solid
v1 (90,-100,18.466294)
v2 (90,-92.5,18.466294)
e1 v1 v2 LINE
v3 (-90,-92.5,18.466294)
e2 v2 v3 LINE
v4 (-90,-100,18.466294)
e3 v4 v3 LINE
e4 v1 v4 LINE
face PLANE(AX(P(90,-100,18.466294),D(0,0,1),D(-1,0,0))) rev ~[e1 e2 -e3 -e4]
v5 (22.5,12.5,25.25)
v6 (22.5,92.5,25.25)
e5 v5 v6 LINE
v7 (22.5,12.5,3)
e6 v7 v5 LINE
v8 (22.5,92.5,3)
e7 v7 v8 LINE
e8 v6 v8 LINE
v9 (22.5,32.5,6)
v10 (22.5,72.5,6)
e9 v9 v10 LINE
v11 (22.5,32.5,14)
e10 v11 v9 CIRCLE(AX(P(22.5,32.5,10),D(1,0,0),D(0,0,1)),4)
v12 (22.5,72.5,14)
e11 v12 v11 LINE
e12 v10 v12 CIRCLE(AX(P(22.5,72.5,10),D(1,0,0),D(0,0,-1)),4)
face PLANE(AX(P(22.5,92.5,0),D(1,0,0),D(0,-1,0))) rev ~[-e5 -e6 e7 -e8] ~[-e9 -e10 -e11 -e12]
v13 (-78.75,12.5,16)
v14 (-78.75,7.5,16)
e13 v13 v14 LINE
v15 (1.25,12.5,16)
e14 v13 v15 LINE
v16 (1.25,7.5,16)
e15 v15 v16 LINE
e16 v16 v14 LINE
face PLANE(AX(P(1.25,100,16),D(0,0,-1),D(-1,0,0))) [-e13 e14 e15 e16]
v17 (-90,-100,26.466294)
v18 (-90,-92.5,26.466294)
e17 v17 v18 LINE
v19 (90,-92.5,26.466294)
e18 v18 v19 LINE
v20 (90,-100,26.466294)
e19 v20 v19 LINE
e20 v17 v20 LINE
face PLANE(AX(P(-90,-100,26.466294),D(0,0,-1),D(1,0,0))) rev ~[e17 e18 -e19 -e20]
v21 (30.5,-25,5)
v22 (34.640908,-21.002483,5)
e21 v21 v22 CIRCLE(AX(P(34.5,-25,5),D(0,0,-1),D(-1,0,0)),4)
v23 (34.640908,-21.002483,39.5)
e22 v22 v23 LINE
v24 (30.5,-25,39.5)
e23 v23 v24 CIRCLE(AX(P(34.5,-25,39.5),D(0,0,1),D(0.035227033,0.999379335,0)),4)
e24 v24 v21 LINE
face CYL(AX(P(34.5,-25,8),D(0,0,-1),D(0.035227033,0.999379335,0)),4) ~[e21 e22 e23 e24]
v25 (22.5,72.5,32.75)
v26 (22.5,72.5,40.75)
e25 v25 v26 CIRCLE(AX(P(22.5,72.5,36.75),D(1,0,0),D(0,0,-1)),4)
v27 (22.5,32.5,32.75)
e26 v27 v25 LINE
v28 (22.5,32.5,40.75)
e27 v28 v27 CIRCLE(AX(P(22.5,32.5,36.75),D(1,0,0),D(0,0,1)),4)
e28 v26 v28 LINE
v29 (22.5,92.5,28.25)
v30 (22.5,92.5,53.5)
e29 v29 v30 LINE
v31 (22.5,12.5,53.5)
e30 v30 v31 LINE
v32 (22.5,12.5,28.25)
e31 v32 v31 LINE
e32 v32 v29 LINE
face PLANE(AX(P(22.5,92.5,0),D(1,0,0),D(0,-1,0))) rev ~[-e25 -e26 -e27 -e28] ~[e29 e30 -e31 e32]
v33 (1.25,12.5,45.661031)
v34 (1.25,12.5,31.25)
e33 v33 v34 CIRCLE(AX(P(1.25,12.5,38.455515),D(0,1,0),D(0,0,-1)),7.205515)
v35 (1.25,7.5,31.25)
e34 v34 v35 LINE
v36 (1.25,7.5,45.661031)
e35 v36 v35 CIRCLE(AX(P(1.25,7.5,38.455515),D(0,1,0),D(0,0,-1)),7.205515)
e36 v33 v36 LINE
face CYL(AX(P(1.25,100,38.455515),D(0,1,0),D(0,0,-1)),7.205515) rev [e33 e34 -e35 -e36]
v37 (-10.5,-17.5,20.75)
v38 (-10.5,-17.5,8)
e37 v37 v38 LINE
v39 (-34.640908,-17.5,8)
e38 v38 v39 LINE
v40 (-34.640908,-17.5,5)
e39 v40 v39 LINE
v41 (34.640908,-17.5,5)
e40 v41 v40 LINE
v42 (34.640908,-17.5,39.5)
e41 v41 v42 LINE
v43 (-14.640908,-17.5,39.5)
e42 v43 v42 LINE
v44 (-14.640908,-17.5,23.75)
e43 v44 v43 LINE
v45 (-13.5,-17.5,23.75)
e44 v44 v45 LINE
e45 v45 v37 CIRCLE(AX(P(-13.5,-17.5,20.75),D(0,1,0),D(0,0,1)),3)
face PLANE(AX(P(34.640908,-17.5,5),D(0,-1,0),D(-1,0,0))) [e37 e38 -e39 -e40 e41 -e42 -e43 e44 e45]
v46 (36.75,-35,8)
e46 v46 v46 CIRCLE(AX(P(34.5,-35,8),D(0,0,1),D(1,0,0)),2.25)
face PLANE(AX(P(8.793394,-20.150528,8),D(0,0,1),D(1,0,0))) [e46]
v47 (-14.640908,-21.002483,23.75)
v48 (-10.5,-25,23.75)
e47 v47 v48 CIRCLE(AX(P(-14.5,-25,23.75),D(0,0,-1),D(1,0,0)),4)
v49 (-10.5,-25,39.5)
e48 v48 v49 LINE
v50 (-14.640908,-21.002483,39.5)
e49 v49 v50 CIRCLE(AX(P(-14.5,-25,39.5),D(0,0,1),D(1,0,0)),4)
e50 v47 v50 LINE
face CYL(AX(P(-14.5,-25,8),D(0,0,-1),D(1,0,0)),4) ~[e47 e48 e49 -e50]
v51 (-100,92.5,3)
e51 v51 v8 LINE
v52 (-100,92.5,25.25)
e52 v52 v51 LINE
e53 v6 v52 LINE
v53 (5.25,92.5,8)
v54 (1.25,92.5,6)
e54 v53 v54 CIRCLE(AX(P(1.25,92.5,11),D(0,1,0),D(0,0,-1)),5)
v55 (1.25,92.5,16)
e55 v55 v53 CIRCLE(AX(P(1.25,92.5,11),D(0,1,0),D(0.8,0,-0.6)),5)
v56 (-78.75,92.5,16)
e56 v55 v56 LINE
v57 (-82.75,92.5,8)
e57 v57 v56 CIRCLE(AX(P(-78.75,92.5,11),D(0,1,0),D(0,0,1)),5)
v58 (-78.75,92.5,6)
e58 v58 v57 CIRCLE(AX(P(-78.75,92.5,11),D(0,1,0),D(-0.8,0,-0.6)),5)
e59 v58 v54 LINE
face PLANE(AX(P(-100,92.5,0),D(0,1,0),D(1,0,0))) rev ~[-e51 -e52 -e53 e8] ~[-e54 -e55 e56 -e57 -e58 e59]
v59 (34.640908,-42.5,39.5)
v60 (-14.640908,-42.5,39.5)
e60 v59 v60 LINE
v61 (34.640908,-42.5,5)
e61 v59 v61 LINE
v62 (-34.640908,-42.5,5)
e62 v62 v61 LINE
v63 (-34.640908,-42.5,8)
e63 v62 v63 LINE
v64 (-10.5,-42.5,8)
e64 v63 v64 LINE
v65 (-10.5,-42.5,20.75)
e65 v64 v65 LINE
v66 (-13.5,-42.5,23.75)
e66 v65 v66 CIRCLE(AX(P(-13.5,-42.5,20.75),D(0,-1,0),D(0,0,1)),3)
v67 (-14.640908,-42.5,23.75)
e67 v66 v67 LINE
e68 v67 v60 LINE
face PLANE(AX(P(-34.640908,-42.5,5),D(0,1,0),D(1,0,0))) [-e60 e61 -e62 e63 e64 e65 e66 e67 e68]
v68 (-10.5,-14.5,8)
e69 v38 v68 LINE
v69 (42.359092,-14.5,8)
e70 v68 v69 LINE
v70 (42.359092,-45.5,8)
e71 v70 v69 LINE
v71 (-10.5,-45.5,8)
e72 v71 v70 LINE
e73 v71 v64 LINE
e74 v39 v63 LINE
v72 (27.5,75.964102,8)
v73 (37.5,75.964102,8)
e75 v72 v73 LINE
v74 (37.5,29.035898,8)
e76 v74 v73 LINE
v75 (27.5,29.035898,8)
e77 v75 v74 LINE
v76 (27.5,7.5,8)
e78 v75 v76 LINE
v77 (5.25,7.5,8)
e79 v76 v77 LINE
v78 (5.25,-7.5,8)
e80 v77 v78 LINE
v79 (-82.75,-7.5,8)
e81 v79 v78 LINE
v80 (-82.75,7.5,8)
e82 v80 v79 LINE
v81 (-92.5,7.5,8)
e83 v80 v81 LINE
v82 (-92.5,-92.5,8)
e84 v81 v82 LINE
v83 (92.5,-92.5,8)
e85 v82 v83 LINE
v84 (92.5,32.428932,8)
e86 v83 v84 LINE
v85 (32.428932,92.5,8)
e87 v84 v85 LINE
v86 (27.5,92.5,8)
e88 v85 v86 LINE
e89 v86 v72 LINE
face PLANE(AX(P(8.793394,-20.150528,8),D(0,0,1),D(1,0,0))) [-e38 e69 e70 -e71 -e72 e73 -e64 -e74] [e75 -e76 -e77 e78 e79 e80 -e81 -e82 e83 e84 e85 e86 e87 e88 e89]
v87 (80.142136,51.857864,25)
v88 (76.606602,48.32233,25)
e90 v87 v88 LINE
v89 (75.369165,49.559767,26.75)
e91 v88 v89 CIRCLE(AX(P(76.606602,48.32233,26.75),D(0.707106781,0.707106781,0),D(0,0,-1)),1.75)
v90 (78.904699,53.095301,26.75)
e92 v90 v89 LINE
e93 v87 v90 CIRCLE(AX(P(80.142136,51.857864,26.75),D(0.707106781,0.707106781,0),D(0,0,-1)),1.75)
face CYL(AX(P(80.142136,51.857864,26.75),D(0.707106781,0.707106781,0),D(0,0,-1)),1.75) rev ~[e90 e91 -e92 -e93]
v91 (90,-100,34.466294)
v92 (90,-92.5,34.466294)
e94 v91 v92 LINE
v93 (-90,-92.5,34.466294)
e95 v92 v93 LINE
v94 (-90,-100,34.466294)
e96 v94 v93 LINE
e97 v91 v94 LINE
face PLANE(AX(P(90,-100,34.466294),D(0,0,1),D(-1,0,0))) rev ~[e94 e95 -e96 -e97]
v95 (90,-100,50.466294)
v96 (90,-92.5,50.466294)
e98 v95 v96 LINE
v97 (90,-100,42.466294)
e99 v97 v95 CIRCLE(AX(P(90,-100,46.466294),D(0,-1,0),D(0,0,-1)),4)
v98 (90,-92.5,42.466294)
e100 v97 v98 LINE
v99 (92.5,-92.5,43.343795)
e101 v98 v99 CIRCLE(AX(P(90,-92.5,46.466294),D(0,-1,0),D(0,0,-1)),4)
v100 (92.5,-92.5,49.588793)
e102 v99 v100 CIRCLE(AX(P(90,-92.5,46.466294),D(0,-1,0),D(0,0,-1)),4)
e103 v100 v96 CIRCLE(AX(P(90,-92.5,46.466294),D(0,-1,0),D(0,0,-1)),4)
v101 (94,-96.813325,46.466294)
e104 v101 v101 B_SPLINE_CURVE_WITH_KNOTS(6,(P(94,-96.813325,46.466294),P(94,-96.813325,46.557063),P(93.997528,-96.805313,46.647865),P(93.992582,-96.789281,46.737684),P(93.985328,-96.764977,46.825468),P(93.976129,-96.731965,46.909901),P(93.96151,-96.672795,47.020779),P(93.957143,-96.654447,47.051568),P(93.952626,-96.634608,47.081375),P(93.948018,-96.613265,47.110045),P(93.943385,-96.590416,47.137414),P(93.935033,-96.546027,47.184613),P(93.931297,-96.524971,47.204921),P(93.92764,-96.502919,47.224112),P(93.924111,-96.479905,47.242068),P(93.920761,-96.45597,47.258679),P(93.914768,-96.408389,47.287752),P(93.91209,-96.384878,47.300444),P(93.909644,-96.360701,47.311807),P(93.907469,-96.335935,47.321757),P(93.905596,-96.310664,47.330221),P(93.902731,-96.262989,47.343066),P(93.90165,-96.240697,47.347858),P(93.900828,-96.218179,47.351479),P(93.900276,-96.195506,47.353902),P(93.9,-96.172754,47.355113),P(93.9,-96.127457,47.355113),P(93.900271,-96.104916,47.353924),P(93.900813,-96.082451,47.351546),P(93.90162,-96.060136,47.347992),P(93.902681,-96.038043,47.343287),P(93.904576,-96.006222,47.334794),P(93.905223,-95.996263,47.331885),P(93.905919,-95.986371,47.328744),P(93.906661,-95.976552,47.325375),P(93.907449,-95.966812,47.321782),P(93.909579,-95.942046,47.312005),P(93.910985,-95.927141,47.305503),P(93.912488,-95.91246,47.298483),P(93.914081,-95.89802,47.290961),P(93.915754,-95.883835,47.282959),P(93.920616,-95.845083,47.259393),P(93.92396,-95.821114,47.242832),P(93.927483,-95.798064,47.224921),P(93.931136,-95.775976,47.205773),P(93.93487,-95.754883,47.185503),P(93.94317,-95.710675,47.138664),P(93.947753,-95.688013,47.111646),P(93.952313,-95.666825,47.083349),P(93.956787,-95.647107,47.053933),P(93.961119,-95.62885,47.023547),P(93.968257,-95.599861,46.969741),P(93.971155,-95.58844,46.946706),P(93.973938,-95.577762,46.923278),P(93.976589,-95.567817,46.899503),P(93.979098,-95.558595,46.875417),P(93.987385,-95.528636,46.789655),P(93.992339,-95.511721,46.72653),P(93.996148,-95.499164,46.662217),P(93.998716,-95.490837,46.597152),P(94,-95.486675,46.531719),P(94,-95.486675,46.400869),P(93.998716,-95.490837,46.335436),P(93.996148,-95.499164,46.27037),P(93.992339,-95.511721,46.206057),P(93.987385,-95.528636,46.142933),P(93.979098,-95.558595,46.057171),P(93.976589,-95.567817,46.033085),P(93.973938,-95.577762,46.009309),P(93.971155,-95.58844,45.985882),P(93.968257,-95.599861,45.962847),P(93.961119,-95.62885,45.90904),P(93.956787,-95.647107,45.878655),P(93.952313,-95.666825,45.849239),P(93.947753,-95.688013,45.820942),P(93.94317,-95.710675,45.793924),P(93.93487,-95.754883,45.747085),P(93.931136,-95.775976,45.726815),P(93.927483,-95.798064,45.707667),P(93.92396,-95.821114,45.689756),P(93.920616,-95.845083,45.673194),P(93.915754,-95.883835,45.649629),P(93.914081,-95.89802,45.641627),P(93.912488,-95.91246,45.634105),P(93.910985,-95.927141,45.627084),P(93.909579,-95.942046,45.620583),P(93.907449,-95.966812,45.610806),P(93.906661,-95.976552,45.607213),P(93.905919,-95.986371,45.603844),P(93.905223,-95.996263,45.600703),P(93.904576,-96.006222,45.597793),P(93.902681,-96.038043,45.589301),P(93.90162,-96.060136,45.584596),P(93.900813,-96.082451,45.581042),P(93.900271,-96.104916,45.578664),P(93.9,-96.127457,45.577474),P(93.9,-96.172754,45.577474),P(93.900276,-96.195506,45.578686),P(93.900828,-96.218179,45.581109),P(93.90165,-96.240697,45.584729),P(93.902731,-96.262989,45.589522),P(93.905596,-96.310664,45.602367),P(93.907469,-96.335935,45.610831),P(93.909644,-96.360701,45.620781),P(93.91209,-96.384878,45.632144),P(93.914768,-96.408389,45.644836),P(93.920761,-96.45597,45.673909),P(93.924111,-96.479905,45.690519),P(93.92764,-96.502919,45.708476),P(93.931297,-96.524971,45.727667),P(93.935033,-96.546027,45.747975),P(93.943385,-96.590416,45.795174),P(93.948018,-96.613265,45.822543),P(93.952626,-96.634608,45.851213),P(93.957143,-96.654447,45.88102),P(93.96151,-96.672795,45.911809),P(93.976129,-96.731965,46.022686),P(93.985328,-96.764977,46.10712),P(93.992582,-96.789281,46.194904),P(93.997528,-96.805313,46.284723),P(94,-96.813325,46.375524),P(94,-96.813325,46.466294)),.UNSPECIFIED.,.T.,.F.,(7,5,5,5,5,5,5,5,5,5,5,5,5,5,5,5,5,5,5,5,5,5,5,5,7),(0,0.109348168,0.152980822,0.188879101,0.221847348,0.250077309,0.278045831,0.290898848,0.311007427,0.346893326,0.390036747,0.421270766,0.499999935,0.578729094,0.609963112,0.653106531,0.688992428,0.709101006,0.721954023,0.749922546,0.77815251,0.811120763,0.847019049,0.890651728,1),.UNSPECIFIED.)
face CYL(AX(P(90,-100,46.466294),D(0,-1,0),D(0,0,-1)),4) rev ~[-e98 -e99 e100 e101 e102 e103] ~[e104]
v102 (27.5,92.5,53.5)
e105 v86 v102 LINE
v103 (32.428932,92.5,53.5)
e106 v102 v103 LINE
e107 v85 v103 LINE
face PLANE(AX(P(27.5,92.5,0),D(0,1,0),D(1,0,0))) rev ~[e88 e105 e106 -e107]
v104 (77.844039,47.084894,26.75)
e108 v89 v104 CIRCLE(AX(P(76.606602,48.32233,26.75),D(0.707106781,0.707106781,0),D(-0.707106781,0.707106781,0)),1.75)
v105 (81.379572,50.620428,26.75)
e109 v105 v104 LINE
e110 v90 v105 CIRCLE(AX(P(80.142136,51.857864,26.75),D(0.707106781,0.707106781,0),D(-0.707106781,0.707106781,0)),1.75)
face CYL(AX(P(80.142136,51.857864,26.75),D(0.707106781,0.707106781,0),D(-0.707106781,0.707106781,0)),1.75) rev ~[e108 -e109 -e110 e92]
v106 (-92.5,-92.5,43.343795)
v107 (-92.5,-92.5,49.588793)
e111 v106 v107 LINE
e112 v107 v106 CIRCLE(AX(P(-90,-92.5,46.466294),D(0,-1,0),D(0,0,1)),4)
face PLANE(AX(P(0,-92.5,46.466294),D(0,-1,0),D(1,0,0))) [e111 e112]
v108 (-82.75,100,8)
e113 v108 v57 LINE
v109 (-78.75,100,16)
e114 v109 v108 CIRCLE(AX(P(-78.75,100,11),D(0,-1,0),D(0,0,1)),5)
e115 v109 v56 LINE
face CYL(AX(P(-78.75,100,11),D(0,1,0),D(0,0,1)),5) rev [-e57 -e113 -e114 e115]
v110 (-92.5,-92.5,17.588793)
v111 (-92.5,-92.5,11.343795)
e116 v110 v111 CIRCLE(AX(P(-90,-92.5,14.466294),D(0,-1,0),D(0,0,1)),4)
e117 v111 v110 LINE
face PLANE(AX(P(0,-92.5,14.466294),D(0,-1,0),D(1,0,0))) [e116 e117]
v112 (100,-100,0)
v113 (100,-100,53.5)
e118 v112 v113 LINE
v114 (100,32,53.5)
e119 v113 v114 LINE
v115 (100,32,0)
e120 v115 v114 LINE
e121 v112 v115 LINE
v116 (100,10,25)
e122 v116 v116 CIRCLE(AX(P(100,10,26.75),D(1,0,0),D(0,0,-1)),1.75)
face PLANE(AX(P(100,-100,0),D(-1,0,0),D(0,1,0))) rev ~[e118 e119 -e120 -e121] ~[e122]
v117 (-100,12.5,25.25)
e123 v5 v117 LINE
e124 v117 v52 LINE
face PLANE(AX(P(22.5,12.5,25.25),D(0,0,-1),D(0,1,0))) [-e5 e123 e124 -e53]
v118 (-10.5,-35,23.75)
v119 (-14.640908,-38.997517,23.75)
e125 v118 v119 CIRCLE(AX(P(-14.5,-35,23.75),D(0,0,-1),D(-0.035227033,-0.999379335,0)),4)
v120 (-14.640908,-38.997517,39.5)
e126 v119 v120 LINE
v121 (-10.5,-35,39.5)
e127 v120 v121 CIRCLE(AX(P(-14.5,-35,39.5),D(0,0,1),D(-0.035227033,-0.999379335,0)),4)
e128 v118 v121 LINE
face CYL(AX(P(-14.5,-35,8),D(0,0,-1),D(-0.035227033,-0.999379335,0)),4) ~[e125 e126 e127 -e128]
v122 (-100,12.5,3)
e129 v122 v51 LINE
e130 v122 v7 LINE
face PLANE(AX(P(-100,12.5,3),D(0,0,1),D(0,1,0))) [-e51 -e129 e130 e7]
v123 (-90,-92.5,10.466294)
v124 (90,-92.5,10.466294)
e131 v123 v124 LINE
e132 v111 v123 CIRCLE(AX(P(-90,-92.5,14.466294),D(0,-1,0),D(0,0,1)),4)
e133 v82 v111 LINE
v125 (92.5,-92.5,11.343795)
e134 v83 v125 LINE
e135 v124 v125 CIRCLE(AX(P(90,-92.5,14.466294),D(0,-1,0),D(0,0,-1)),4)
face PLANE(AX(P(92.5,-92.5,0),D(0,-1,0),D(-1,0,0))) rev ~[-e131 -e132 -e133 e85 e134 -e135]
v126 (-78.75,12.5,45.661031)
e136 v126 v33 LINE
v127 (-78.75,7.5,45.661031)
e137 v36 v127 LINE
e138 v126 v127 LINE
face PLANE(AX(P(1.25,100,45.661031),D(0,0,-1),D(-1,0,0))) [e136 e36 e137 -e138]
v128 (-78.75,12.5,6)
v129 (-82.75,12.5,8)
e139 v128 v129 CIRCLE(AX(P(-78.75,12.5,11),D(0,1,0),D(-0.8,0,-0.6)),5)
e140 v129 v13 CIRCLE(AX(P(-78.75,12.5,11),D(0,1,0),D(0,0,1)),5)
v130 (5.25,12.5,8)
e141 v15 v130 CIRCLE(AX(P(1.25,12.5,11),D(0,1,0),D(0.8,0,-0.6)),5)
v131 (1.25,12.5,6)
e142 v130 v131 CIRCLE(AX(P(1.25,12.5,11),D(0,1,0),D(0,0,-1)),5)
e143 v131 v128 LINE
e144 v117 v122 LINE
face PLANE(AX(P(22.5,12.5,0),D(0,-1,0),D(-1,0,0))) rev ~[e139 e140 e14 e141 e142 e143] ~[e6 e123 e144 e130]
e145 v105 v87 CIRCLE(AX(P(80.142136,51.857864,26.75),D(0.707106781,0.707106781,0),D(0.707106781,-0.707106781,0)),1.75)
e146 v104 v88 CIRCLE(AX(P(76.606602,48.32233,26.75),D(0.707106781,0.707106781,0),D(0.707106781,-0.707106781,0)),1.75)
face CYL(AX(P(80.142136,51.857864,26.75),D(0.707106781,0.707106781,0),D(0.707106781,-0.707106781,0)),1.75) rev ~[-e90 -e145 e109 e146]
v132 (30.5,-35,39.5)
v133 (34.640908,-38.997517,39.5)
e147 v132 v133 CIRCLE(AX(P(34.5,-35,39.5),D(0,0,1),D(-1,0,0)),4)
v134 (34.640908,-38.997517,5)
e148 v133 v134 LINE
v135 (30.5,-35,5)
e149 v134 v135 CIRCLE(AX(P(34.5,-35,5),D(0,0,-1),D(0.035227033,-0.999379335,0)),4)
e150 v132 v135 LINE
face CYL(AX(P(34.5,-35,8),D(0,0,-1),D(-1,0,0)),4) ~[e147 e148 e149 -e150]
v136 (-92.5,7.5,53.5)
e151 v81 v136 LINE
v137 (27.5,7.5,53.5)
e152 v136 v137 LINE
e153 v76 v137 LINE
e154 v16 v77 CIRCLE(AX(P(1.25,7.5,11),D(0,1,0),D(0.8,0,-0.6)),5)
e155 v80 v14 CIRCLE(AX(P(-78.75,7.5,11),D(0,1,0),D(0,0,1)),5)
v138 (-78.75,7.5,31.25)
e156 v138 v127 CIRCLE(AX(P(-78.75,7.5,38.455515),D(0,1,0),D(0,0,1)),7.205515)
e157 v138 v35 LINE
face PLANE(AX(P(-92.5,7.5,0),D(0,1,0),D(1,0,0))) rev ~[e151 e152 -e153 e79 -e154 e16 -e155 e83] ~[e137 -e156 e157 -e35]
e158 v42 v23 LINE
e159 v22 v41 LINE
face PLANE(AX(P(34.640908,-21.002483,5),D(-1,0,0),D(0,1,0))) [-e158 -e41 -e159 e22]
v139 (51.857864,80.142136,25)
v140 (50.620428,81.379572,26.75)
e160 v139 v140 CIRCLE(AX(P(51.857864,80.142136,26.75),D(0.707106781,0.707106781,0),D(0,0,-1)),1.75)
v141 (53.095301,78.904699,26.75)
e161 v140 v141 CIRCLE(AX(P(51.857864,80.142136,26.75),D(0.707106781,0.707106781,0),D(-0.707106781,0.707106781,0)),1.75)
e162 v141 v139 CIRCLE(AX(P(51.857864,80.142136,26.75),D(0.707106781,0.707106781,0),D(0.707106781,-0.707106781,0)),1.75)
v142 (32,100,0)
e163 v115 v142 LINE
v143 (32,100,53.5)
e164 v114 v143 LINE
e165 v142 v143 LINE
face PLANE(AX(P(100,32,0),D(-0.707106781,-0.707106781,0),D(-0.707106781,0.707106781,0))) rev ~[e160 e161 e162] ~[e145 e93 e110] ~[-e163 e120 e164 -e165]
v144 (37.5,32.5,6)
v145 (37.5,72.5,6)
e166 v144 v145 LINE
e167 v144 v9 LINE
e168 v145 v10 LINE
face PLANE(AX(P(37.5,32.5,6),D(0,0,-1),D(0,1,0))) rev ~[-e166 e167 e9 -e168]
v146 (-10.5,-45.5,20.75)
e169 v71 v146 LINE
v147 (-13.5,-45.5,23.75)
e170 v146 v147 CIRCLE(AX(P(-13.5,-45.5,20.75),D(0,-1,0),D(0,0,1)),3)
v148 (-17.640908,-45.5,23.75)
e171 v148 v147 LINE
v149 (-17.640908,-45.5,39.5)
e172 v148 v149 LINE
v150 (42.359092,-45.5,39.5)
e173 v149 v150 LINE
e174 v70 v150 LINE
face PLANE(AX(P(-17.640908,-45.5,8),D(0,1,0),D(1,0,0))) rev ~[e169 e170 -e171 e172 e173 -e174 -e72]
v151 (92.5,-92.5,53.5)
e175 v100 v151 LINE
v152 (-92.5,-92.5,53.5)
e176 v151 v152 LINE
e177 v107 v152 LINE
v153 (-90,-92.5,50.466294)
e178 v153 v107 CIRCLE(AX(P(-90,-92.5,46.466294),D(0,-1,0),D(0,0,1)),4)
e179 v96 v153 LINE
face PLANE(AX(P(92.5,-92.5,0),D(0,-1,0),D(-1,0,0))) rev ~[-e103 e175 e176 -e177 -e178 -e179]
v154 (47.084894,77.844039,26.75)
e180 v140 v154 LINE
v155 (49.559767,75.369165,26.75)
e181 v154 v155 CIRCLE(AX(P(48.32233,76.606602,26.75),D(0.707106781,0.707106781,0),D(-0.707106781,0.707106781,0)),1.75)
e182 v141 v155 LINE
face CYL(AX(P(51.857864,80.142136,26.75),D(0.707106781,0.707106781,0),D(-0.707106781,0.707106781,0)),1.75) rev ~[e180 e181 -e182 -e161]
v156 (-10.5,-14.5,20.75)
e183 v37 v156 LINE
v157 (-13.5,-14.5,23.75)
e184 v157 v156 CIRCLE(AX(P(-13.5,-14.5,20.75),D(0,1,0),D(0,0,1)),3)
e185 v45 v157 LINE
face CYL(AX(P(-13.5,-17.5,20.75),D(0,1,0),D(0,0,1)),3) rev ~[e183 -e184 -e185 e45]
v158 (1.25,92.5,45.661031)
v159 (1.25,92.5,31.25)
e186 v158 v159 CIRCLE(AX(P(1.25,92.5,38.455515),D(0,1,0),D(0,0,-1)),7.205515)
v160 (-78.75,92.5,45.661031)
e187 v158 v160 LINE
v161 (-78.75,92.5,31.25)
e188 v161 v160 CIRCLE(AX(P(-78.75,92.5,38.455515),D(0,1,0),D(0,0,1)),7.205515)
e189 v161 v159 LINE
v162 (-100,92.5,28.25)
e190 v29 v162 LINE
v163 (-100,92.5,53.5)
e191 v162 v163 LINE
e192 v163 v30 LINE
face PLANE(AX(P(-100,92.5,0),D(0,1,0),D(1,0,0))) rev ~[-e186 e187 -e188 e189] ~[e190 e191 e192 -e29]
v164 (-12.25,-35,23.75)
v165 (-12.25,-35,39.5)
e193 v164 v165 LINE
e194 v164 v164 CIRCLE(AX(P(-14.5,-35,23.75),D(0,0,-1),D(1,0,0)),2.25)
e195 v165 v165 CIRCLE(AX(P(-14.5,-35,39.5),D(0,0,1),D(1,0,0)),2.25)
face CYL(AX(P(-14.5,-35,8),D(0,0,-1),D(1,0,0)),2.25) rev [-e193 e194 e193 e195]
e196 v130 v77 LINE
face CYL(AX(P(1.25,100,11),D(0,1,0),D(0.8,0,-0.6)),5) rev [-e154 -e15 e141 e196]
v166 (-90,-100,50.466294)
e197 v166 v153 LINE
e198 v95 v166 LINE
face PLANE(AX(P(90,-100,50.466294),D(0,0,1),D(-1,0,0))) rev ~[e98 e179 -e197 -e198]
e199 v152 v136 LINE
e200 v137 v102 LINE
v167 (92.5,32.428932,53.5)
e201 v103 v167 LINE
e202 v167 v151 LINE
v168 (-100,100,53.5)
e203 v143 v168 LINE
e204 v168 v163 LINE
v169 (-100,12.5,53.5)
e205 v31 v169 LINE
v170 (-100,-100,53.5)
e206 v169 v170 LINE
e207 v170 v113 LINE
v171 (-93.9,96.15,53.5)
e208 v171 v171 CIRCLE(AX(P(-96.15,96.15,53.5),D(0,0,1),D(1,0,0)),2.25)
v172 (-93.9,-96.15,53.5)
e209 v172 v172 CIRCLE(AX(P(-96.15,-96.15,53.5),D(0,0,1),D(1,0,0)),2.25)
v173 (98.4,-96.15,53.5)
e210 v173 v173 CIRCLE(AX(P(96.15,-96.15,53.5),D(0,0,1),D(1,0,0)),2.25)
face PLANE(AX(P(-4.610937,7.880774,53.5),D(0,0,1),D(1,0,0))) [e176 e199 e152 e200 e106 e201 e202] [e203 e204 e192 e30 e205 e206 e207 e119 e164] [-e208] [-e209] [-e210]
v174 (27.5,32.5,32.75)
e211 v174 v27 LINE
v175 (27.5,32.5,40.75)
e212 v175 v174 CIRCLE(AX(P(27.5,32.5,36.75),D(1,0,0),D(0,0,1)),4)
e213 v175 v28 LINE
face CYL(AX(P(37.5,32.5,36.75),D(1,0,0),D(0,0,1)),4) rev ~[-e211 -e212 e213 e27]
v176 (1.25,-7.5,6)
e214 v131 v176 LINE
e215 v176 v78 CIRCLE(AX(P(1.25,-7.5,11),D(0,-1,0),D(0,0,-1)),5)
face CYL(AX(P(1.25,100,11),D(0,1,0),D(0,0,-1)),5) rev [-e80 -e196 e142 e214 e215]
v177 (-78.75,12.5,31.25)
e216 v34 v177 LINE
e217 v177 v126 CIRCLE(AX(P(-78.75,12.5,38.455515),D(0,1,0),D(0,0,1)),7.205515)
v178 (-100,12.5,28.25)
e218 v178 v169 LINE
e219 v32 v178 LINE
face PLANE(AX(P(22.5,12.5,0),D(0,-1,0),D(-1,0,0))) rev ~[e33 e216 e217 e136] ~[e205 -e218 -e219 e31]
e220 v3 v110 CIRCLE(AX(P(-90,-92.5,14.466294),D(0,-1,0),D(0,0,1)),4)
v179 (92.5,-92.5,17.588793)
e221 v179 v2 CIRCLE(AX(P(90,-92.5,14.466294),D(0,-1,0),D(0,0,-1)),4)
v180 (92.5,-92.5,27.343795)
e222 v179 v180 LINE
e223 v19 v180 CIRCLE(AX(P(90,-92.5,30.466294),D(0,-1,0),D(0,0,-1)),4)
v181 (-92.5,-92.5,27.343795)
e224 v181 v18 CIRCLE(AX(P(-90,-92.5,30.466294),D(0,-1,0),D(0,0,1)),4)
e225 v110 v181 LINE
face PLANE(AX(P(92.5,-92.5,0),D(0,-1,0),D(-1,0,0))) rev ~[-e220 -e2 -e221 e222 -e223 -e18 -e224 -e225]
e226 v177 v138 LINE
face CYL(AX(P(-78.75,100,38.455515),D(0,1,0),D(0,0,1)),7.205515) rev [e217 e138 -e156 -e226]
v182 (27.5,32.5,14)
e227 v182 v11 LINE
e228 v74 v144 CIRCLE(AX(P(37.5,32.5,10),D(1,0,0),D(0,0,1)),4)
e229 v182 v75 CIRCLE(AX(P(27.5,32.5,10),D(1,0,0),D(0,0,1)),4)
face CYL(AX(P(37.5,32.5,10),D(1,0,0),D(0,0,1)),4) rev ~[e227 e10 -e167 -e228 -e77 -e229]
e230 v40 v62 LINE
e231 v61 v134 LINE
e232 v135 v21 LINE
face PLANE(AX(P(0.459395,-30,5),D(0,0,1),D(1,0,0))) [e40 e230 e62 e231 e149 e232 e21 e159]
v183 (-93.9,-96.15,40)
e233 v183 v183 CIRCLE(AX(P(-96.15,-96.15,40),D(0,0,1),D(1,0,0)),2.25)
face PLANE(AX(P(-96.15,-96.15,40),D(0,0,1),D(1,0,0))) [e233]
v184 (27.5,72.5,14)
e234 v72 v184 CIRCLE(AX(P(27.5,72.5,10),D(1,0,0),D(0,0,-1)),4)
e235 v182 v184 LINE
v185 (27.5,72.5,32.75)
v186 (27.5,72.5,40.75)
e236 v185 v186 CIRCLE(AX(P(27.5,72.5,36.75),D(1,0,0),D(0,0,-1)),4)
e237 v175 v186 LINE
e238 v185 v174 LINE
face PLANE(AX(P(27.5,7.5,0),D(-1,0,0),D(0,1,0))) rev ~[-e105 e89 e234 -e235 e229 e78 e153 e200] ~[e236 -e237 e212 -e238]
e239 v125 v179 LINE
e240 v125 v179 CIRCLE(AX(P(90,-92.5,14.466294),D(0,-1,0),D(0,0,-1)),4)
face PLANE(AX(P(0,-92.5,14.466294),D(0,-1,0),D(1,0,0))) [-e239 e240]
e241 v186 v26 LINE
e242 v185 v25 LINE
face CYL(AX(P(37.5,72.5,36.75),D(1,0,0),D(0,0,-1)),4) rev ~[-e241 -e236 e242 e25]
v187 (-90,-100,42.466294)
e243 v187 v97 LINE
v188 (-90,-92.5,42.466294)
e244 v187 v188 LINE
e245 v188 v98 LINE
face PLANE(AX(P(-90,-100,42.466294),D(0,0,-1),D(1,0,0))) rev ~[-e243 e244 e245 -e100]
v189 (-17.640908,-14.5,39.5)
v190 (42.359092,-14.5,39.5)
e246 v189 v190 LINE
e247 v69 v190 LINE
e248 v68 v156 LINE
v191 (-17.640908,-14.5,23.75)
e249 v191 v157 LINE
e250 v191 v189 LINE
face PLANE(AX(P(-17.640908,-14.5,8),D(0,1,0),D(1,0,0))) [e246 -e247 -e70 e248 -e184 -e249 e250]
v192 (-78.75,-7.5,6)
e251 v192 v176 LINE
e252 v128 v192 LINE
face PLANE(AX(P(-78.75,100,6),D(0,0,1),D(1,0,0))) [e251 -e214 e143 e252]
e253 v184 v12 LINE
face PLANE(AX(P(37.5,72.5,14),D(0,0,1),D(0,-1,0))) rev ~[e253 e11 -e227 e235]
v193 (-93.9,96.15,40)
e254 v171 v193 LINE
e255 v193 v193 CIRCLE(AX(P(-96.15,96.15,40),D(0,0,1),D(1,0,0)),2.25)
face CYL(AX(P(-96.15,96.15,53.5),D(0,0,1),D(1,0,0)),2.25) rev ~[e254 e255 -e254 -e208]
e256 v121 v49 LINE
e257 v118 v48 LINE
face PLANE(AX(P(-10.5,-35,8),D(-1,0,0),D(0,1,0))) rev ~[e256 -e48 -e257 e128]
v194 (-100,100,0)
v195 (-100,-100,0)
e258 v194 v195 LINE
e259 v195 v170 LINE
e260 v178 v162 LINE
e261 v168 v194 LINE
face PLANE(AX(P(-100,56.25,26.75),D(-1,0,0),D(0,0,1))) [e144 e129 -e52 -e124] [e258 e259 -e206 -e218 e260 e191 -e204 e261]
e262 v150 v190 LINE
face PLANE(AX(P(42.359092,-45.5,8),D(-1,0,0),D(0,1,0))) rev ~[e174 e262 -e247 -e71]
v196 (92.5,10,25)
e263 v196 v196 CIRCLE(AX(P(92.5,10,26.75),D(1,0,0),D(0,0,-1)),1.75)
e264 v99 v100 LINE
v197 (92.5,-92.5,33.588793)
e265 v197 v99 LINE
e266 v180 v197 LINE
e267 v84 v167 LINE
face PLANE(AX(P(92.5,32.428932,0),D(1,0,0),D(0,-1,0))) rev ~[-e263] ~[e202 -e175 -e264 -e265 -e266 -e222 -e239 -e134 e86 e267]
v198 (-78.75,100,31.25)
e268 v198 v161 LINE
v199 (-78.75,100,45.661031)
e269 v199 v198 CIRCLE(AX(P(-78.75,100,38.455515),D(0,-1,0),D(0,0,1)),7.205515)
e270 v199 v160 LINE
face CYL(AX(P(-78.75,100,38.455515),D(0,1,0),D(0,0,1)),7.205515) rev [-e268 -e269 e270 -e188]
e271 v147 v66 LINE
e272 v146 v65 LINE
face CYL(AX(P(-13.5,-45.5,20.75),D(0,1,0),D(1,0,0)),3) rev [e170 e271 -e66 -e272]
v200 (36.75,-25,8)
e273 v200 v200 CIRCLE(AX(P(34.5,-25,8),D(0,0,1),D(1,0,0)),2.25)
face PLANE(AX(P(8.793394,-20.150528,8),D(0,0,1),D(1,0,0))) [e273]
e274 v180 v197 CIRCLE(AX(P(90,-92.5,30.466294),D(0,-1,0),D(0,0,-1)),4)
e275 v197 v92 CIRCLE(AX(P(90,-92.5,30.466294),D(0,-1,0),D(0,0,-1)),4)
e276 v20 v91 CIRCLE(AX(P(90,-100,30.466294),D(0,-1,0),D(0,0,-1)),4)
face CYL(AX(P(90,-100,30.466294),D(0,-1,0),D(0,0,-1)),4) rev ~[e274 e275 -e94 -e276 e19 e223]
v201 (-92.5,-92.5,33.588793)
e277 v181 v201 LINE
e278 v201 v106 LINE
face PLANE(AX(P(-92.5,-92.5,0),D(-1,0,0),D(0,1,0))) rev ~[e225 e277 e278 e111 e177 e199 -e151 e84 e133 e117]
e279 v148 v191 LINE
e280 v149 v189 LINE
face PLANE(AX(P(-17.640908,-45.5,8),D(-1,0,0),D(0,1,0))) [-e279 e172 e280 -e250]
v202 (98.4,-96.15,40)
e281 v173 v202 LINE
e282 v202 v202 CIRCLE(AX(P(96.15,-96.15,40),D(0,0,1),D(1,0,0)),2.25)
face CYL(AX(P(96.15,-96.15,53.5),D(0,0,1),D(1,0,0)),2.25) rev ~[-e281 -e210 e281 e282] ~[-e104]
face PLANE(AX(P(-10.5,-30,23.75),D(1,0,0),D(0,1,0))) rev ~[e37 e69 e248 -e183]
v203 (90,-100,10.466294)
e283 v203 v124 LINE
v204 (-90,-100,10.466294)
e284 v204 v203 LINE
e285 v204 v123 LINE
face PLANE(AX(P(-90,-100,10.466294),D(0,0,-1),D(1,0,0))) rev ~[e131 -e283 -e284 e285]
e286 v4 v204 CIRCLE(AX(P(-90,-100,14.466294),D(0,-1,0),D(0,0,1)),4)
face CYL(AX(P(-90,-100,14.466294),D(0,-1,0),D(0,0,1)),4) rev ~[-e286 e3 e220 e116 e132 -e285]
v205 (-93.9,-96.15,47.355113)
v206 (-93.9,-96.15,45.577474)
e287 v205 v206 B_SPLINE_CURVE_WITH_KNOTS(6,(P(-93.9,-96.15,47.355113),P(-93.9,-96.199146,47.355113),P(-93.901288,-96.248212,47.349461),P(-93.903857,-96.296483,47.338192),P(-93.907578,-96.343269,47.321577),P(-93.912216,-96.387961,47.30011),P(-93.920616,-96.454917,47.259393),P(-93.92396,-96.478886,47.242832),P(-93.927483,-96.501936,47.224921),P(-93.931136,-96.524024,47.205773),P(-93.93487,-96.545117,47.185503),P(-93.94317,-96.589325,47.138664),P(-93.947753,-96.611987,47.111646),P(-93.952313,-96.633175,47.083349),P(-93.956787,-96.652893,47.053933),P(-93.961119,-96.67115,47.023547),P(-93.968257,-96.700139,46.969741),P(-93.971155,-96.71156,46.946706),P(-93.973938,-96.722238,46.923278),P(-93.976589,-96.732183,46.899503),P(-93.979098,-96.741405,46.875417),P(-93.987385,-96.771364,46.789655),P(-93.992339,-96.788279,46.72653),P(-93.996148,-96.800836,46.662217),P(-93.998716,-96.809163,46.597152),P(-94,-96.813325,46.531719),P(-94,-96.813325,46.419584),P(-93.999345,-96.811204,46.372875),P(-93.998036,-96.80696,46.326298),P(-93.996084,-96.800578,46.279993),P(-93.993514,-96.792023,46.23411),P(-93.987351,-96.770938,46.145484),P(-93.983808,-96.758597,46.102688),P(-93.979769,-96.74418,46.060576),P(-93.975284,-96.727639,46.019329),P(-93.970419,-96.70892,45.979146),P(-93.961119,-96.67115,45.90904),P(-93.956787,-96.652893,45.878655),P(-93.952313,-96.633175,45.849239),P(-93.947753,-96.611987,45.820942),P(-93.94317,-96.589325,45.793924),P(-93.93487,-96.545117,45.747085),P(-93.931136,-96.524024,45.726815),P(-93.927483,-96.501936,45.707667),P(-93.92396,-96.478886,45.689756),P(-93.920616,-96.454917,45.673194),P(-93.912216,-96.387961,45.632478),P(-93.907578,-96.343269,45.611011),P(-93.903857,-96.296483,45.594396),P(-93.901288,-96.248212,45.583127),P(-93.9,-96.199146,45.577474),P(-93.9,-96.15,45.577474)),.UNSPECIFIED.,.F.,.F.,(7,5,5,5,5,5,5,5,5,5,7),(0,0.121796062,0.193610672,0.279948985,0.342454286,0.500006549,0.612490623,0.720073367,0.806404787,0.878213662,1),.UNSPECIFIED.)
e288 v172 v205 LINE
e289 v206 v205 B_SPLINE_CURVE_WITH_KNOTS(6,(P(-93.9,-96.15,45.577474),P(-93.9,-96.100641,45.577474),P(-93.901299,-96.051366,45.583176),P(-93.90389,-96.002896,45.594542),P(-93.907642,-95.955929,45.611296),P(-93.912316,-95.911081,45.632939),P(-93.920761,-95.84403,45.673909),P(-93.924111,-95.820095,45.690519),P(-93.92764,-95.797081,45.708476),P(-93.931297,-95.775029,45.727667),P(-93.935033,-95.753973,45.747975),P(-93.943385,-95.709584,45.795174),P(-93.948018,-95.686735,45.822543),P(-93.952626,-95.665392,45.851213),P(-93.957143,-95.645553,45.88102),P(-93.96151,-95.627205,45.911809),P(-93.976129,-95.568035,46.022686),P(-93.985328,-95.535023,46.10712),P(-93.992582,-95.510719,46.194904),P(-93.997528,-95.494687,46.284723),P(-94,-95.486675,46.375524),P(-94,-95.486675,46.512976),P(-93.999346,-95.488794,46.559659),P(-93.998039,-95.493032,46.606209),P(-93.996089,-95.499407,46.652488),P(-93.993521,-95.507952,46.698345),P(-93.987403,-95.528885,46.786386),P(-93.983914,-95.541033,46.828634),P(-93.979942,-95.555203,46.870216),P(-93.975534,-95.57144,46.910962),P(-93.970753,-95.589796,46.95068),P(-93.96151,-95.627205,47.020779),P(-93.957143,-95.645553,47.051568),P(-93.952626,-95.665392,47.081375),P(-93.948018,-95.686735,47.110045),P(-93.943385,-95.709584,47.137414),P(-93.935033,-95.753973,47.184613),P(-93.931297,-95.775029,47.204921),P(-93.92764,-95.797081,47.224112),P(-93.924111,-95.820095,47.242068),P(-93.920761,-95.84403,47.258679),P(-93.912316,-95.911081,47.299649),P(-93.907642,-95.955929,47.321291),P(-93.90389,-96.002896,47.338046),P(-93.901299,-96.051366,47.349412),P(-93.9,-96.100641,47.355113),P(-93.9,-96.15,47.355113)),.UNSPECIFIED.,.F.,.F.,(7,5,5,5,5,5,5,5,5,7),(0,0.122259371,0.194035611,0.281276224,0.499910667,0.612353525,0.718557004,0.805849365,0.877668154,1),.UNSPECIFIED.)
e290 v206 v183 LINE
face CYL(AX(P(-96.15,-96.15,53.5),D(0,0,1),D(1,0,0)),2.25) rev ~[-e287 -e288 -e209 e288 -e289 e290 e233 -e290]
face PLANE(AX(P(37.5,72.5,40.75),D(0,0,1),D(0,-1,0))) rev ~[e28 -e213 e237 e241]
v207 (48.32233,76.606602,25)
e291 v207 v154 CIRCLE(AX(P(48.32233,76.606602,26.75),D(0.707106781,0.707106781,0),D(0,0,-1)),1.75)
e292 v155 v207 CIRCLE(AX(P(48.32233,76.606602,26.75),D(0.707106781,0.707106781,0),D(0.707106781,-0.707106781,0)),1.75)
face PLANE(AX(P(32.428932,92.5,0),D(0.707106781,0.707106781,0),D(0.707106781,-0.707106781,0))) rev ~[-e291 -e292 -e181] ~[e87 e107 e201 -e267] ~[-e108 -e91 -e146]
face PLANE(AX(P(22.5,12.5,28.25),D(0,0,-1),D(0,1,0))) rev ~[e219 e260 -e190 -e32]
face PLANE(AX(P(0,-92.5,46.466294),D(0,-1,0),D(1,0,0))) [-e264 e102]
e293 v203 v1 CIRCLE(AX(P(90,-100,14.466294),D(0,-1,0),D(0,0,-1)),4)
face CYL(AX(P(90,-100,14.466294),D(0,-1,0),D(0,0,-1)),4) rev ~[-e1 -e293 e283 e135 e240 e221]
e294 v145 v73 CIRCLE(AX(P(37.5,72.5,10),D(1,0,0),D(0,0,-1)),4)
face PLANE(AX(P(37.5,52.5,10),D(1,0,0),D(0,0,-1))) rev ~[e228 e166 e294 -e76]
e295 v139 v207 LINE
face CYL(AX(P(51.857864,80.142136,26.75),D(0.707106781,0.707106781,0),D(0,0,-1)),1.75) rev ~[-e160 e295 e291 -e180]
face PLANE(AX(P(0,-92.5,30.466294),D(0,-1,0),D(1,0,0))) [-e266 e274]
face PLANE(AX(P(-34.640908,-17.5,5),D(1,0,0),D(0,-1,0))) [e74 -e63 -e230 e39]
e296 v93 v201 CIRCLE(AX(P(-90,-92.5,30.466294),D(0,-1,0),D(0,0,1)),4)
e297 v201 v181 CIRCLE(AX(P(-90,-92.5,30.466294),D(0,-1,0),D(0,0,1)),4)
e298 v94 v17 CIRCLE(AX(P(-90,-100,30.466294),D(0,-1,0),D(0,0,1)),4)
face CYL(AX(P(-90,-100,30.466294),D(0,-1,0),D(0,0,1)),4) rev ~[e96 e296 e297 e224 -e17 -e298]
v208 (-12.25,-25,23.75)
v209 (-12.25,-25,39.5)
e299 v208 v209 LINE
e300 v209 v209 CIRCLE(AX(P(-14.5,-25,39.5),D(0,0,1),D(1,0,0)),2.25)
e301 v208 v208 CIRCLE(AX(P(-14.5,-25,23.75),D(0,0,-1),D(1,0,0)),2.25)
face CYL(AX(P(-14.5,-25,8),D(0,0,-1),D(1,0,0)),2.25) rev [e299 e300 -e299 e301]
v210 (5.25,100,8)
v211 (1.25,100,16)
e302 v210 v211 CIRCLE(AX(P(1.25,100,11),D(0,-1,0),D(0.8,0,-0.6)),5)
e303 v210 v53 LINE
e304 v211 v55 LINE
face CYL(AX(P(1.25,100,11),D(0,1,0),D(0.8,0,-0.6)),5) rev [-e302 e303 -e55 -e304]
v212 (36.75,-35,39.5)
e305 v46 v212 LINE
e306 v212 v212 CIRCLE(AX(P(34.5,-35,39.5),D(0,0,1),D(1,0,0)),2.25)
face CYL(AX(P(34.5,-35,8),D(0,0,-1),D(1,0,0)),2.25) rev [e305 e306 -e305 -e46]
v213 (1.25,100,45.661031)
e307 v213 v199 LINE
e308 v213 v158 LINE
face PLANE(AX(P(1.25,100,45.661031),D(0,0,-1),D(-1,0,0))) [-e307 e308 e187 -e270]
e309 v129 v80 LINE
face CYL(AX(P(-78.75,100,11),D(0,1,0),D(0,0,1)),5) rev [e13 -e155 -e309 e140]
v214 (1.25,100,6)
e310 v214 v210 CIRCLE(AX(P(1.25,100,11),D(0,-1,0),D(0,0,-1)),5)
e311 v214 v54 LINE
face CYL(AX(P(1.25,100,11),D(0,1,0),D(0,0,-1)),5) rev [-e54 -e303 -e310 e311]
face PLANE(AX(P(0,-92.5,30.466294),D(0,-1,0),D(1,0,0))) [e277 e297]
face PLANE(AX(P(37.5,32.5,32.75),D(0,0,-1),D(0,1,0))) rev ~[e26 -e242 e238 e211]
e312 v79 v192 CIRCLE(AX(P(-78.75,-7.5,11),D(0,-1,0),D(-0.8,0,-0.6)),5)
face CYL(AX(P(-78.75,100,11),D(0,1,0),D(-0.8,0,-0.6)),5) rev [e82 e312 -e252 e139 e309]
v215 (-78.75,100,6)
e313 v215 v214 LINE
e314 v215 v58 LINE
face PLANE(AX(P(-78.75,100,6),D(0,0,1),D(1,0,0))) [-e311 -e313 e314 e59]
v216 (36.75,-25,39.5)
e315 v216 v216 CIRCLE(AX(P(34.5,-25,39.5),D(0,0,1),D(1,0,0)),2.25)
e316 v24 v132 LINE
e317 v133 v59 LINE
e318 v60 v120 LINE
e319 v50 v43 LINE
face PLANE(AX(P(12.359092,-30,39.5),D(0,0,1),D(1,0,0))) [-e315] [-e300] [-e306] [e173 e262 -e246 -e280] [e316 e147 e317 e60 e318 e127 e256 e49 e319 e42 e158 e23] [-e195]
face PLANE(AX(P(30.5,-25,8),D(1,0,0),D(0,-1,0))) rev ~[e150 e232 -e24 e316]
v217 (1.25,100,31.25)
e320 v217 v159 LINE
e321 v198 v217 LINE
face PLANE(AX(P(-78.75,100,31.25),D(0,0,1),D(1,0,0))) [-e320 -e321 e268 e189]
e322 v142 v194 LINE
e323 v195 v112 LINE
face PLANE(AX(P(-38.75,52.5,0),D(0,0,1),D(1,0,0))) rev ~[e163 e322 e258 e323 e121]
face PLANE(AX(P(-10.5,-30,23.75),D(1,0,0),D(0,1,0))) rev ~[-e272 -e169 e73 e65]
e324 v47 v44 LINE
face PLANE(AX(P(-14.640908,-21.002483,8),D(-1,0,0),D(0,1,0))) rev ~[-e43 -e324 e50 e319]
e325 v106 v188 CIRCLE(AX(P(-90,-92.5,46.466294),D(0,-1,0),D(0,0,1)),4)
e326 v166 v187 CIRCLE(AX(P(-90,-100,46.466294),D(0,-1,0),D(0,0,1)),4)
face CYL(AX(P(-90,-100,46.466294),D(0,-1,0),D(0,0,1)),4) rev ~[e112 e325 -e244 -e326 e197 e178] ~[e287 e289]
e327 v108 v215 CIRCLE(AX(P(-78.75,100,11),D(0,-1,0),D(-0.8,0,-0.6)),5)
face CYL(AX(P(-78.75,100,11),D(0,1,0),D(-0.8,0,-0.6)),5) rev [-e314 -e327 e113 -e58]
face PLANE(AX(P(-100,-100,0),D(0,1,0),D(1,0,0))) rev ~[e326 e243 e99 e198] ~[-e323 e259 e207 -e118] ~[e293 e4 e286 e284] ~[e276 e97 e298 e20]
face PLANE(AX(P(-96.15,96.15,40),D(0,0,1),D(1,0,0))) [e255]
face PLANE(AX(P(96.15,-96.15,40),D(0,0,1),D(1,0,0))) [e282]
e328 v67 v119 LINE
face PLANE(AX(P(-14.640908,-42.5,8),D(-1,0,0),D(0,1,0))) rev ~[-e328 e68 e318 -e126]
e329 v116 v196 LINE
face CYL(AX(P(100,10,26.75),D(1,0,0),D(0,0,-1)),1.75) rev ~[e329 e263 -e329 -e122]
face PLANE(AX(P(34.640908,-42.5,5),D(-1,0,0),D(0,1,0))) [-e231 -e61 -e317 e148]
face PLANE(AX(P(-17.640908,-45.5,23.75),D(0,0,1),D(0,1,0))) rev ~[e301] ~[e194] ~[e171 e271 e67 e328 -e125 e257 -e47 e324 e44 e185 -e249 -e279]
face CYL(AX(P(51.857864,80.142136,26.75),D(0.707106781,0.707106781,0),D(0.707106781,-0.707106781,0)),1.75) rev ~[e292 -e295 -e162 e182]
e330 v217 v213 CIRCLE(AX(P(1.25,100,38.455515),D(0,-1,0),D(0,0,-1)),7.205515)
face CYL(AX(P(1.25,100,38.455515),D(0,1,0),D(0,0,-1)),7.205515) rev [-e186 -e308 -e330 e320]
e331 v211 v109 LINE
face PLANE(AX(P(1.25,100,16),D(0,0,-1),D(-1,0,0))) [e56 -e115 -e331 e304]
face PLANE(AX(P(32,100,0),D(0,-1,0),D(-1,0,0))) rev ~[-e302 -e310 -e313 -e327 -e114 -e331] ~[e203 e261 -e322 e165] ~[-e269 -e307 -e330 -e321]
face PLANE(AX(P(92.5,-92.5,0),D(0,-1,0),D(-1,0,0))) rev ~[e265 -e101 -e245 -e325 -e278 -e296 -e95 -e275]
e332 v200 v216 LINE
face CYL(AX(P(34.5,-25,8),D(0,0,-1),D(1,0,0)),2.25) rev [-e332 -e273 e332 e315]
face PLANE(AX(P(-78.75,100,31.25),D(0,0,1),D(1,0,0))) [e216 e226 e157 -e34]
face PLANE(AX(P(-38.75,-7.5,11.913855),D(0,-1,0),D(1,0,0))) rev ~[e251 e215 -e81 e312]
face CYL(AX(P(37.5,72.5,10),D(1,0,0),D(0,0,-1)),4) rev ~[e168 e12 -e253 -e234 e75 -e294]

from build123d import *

# Parameters (mm, degrees)
BOSS_EXTRUDE1_DEPTH     = 8
SKETCH1_W               = 122.5
SKETCH1_H               = 80
BOSS_EXTRUDE1_2_DEPTH   = 8
BOSS_EXTRUDE2_DEPTH     = 53.5
CUT_EXTRUDE6_DEPTH      = 7.5
SKETCH2_W               = 60
SKETCH2_H               = 31
SKETCH2_R               = 2.25
BOSS_EXTRUDE3_DEPTH     = 31.5
CUT_EXTRUDE5_REACH      = 165.406
SKETCH8_W               = 15.75
SKETCH8_H               = 31
CUT_EXTRUDE8_START      = -3
CUT_EXTRUDE8_DEPTH      = 3
FILLET1_R               = 3
CUT_EXTRUDE1_DEPTH      = 122.5
CUT_EXTRUDE1_DEPTH_BACK = 15
SKETCH4_W               = 3
SKETCH4_H               = 87.5
BOSS_EXTRUDE5_DEPTH     = 122.5
SKETCH5_W               = 5
SKETCH5_H               = 80
CUT_EXTRUDE2_DEPTH      = 122.5
CUT_EXTRUDE3_DEPTH      = 15
CUT_EXTRUDE3_DEPTH_BACK = 92.5
SKETCH7_R               = 2.25
CUT_EXTRUDE4_DEPTH      = 13.5
CUT_EXTRUDE9_DEPTH      = 5
SKETCH13_R              = 1.75
CUT_EXTRUDE10_DEPTH     = 7.5


with BuildPart() as part:
    # Sketch1 → Boss-Extrude1 (new body)
    with BuildSketch(Plane.XY):
        Polygon((32.428932188, 92.5), (27.5, 92.5), (27.5, 7.5), (-92.5, 7.5), (-92.5, -92.5), (92.5, -92.5), (92.5, 32.428932188), align=None)
    extrude(amount=BOSS_EXTRUDE1_DEPTH)



with BuildPart() as body_2:
    # Sketch1 → Boss-Extrude1 2 (new body)
    with BuildSketch(Plane.XY):
        with Locations((-38.75, 52.5)):
            Rectangle(SKETCH1_W, SKETCH1_H)
    extrude(amount=BOSS_EXTRUDE1_2_DEPTH)


with BuildPart() as part_1:
    add(part.part)

    add(body_2.part)  # Boss-Extrude2 merges body 2
    # Sketch1<4> → Boss-Extrude2 (add)
    with BuildSketch(Plane.XY):
        Polygon((22.5, 92.5), (22.5, 12.5), (-100, 12.5), (-100, -100), (100, -100), (100, 32), (32, 100), (-100, 100), (-100, 92.5), align=None)
        Polygon((-92.5, 7.5), (27.5, 7.5), (27.5, 92.5), (32.428932188, 92.5), (92.5, 32.428932188), (92.5, -92.5), (-92.5, -92.5), align=None, mode=Mode.SUBTRACT)
    extrude(amount=BOSS_EXTRUDE2_DEPTH)

    # Sketch9 → Cut-Extrude6 (cut)
    with BuildSketch(Plane.XZ.offset(100)):
        with BuildLine():
            Line((-90, 42.466293919), (90, 42.466293919))
            ThreePointArc((90, 42.466293919), (94, 46.466293919), (90, 50.466293919))
            Line((90, 50.466293919), (-90, 50.466293919))
            ThreePointArc((-90, 50.466293919), (-94, 46.466293919), (-90, 42.466293919))
        make_face()
        with BuildLine():
            Line((-90, 26.466293919), (90, 26.466293919))
            ThreePointArc((90, 26.466293919), (94, 30.466293919), (90, 34.466293919))
            Line((90, 34.466293919), (-90, 34.466293919))
            ThreePointArc((-90, 34.466293919), (-94, 30.466293919), (-90, 26.466293919))
        make_face()
        with BuildLine():
            Line((-90, 10.466293919), (90, 10.466293919))
            ThreePointArc((90, 10.466293919), (94, 14.466293919), (90, 18.466293919))
            Line((90, 18.466293919), (-90, 18.466293919))
            ThreePointArc((-90, 18.466293919), (-94, 14.466293919), (-90, 10.466293919))
        make_face()
    extrude(amount=-CUT_EXTRUDE6_DEPTH, mode=Mode.SUBTRACT)

    # Sketch2 → Boss-Extrude3 (add)
    with BuildSketch(Plane.XY.offset(8)):
        with Locations((12.359091867, -30)):
            Rectangle(SKETCH2_W, SKETCH2_H)
        with BuildLine():
            ThreePointArc((-14.640908133, -38.997517342), (-11.721838066, -37.877814495), (-10.5, -35))
            Line((-10.5, -35), (-10.5, -25))
            ThreePointArc((-10.5, -25), (-11.721838066, -22.122185505), (-14.640908133, -21.002482658))
            Line((-14.640908133, -21.002482658), (-14.640908133, -17.5))
            Line((-14.640908133, -17.5), (34.640908133, -17.5))
            Line((34.640908133, -17.5), (34.640908133, -21.002482658))
            ThreePointArc((34.640908133, -21.002482658), (31.721838066, -22.122185505), (30.5, -25))
            Line((30.5, -25), (30.5, -35))
            ThreePointArc((30.5, -35), (31.721838066, -37.877814495), (34.640908133, -38.997517342))
            Line((34.640908133, -38.997517342), (34.640908133, -42.5))
            Line((34.640908133, -42.5), (-14.640908133, -42.5))
            Line((-14.640908133, -42.5), (-14.640908133, -38.997517342))
        make_face(mode=Mode.SUBTRACT)
        with Locations((-14.5, -25)):
            Circle(SKETCH2_R, mode=Mode.SUBTRACT)
        with Locations((-14.5, -35)):
            Circle(SKETCH2_R, mode=Mode.SUBTRACT)
        with Locations((34.5, -35)):
            Circle(SKETCH2_R, mode=Mode.SUBTRACT)
        with Locations((34.5, -25)):
            Circle(SKETCH2_R, mode=Mode.SUBTRACT)
    extrude(amount=BOSS_EXTRUDE3_DEPTH)

    # Cut-Extrude5: up to this face of the body (flat: up to its plane)
    cut_extrude5_end = Plane(part_1.part.faces().sort_by_distance((-10.5, -30, 23.75))[0])
    # Sketch8 → Cut-Extrude5 (cut, up to the picked face)
    with BuildSketch(Plane.ZY.offset(17.640908133), mode=Mode.PRIVATE) as cut_extrude5_sk1:
        with Locations((15.875, -30)):
            Rectangle(SKETCH8_W, SKETCH8_H)
    cut_extrude5_tool1 = split(extrude(cut_extrude5_sk1.sketch, amount=-CUT_EXTRUDE5_REACH, mode=Mode.PRIVATE), bisect_by=cut_extrude5_end, keep=Keep.BOTH, mode=Mode.PRIVATE)
    add(cut_extrude5_tool1.solids().sort_by(Axis((-17.640908, -30, 15.875), (1, 0, 0)))[0], mode=Mode.SUBTRACT)

    # Sketch10 → Cut-Extrude8 (cut)
    with BuildSketch(Plane.XY.offset(8).offset(CUT_EXTRUDE8_START)):
        with BuildLine():
            Line((34.640908133, -42.5), (34.640908133, -38.997517342))
            ThreePointArc((34.640908133, -38.997517342), (31.721838066, -37.877814495), (30.5, -35))
            Line((30.5, -35), (30.5, -25))
            ThreePointArc((30.5, -25), (31.721838066, -22.122185505), (34.640908133, -21.002482658))
            Line((34.640908133, -21.002482658), (34.640908133, -17.5))
            Line((34.640908133, -17.5), (-14.640908133, -17.5))
            Line((-14.640908133, -17.5), (-34.640908133, -17.5))
            Line((-34.640908133, -17.5), (-34.640908133, -42.5))
            Line((-34.640908133, -42.5), (-14.640908133, -42.5))
            Line((-14.640908133, -42.5), (34.640908133, -42.5))
        make_face()
    extrude(amount=CUT_EXTRUDE8_DEPTH, mode=Mode.SUBTRACT)

    # Fillet1
    fillet1_edges = [part_1.edges().sort_by_distance(p)[0] for p in [
        (-10.5, -44, 23.75),
        (-10.5, -16, 23.75),
    ]]
    fillet(fillet1_edges, radius=FILLET1_R)

    # Sketch3 → Cut-Extrude1 (cut, two sides: drawn at the far end of the back side and taken through both)
    with BuildSketch(Plane.ZY.offset(-22.5).offset(-CUT_EXTRUDE1_DEPTH_BACK)):
        with BuildLine():
            Line((14, 72.5), (14, 32.5))
            ThreePointArc((14, 32.5), (10, 28.5), (6, 32.5))
            Line((6, 32.5), (6, 72.5))
            ThreePointArc((6, 72.5), (10, 76.5), (14, 72.5))
        make_face()
        with BuildLine():
            Line((40.75, 72.5), (40.75, 32.5))
            ThreePointArc((40.75, 32.5), (36.75, 28.5), (32.75, 32.5))
            Line((32.75, 32.5), (32.75, 72.5))
            ThreePointArc((32.75, 72.5), (36.75, 76.5), (40.75, 72.5))
        make_face()
    extrude(amount=CUT_EXTRUDE1_DEPTH + CUT_EXTRUDE1_DEPTH_BACK, mode=Mode.SUBTRACT)

    # Sketch4 → Boss-Extrude5 (add)
    with BuildSketch(Plane.ZY.offset(-22.5)):
        with Locations((26.75, 56.25)):
            Rectangle(SKETCH4_W, SKETCH4_H)
    extrude(amount=BOSS_EXTRUDE5_DEPTH)

    # Sketch5 → Cut-Extrude2 (cut)
    with BuildSketch(Plane.ZY.offset(100)):
        with Locations((5.5, 52.5)):
            Rectangle(SKETCH5_W, SKETCH5_H)
    extrude(amount=-CUT_EXTRUDE2_DEPTH, mode=Mode.SUBTRACT)

    # Sketch6 → Cut-Extrude3 (cut, two sides: drawn at the far end of the back side and taken through both)
    with BuildSketch(Plane.XZ.offset(-7.5).offset(-CUT_EXTRUDE3_DEPTH_BACK)):
        with BuildLine():
            Line((-78.75, 31.25), (1.25, 31.25))
            ThreePointArc((1.25, 31.25), (8.455515357, 38.455515357), (1.25, 45.661030714))
            Line((1.25, 45.661030714), (-78.75, 45.661030714))
            ThreePointArc((-78.75, 45.661030714), (-85.955515357, 38.455515357), (-78.75, 31.25))
        make_face()
        with BuildLine():
            Line((-82.75, 8), (5.25, 8))
            ThreePointArc((5.25, 8), (5.722135955, 13.236067977), (1.25, 16))
            Line((1.25, 16), (-78.75, 16))
            ThreePointArc((-78.75, 16), (-83.222135955, 13.236067977), (-82.75, 8))
        make_face()
        with BuildLine():
            ThreePointArc((1.25, 6), (3.486067977, 6.527864045), (5.25, 8))
            Line((5.25, 8), (-82.75, 8))
            ThreePointArc((-82.75, 8), (-80.986067977, 6.527864045), (-78.75, 6))
            Line((-78.75, 6), (1.25, 6))
        make_face()
    extrude(amount=CUT_EXTRUDE3_DEPTH + CUT_EXTRUDE3_DEPTH_BACK, mode=Mode.SUBTRACT)

    # Sketch7 → Cut-Extrude4 (cut)
    with BuildSketch(Plane.XY.offset(53.5)):
        with Locations((-96.15, 96.15)):
            Circle(SKETCH7_R)
        with Locations((96.15, 96.15)):
            Circle(SKETCH7_R)
        with Locations((-96.15, -96.15)):
            Circle(SKETCH7_R)
        with Locations((96.15, -96.15)):
            Circle(SKETCH7_R)
    extrude(amount=-CUT_EXTRUDE4_DEPTH, mode=Mode.SUBTRACT)

    # Sketch11 → Cut-Extrude9 (cut)
    with BuildSketch(Plane(origin=(66, 66, 0), x_dir=(0, 0, -1), z_dir=(0.7071067811865488, 0.7071067811865462, 0))):
        with BuildLine():
            ThreePointArc((-25, -20), (-25.512563133, -18.762563133), (-26.75, -18.25))
            Line((-26.75, -18.25), (-26.75, -21.75))
            ThreePointArc((-26.75, -21.75), (-25.512563133, -21.237436867), (-25, -20))
        make_face()
        with BuildLine():
            Line((-26.75, -21.75), (-26.75, -18.25))
            ThreePointArc((-26.75, -18.25), (-28.5, -20), (-26.75, -21.75))
        make_face()
        with BuildLine():
            ThreePointArc((-25, 20), (-25.512563133, 21.237436867), (-26.75, 21.75))
            Line((-26.75, 21.75), (-26.75, 18.25))
            ThreePointArc((-26.75, 18.25), (-25.512563133, 18.762563133), (-25, 20))
        make_face()
        with BuildLine():
            Line((-26.75, 18.25), (-26.75, 21.75))
            ThreePointArc((-26.75, 21.75), (-28.5, 20), (-26.75, 18.25))
        make_face()
    extrude(amount=-CUT_EXTRUDE9_DEPTH, mode=Mode.SUBTRACT)

    # Sketch13 → Cut-Extrude10 (cut)
    with BuildSketch(Plane(origin=(100, 0, 0), x_dir=(0, 0, -1), z_dir=(1, 0, 0))):
        with Locations((-26.75, 10)):
            Circle(SKETCH13_R)
    extrude(amount=-CUT_EXTRUDE10_DEPTH, mode=Mode.SUBTRACT)


solid = part_1.part
